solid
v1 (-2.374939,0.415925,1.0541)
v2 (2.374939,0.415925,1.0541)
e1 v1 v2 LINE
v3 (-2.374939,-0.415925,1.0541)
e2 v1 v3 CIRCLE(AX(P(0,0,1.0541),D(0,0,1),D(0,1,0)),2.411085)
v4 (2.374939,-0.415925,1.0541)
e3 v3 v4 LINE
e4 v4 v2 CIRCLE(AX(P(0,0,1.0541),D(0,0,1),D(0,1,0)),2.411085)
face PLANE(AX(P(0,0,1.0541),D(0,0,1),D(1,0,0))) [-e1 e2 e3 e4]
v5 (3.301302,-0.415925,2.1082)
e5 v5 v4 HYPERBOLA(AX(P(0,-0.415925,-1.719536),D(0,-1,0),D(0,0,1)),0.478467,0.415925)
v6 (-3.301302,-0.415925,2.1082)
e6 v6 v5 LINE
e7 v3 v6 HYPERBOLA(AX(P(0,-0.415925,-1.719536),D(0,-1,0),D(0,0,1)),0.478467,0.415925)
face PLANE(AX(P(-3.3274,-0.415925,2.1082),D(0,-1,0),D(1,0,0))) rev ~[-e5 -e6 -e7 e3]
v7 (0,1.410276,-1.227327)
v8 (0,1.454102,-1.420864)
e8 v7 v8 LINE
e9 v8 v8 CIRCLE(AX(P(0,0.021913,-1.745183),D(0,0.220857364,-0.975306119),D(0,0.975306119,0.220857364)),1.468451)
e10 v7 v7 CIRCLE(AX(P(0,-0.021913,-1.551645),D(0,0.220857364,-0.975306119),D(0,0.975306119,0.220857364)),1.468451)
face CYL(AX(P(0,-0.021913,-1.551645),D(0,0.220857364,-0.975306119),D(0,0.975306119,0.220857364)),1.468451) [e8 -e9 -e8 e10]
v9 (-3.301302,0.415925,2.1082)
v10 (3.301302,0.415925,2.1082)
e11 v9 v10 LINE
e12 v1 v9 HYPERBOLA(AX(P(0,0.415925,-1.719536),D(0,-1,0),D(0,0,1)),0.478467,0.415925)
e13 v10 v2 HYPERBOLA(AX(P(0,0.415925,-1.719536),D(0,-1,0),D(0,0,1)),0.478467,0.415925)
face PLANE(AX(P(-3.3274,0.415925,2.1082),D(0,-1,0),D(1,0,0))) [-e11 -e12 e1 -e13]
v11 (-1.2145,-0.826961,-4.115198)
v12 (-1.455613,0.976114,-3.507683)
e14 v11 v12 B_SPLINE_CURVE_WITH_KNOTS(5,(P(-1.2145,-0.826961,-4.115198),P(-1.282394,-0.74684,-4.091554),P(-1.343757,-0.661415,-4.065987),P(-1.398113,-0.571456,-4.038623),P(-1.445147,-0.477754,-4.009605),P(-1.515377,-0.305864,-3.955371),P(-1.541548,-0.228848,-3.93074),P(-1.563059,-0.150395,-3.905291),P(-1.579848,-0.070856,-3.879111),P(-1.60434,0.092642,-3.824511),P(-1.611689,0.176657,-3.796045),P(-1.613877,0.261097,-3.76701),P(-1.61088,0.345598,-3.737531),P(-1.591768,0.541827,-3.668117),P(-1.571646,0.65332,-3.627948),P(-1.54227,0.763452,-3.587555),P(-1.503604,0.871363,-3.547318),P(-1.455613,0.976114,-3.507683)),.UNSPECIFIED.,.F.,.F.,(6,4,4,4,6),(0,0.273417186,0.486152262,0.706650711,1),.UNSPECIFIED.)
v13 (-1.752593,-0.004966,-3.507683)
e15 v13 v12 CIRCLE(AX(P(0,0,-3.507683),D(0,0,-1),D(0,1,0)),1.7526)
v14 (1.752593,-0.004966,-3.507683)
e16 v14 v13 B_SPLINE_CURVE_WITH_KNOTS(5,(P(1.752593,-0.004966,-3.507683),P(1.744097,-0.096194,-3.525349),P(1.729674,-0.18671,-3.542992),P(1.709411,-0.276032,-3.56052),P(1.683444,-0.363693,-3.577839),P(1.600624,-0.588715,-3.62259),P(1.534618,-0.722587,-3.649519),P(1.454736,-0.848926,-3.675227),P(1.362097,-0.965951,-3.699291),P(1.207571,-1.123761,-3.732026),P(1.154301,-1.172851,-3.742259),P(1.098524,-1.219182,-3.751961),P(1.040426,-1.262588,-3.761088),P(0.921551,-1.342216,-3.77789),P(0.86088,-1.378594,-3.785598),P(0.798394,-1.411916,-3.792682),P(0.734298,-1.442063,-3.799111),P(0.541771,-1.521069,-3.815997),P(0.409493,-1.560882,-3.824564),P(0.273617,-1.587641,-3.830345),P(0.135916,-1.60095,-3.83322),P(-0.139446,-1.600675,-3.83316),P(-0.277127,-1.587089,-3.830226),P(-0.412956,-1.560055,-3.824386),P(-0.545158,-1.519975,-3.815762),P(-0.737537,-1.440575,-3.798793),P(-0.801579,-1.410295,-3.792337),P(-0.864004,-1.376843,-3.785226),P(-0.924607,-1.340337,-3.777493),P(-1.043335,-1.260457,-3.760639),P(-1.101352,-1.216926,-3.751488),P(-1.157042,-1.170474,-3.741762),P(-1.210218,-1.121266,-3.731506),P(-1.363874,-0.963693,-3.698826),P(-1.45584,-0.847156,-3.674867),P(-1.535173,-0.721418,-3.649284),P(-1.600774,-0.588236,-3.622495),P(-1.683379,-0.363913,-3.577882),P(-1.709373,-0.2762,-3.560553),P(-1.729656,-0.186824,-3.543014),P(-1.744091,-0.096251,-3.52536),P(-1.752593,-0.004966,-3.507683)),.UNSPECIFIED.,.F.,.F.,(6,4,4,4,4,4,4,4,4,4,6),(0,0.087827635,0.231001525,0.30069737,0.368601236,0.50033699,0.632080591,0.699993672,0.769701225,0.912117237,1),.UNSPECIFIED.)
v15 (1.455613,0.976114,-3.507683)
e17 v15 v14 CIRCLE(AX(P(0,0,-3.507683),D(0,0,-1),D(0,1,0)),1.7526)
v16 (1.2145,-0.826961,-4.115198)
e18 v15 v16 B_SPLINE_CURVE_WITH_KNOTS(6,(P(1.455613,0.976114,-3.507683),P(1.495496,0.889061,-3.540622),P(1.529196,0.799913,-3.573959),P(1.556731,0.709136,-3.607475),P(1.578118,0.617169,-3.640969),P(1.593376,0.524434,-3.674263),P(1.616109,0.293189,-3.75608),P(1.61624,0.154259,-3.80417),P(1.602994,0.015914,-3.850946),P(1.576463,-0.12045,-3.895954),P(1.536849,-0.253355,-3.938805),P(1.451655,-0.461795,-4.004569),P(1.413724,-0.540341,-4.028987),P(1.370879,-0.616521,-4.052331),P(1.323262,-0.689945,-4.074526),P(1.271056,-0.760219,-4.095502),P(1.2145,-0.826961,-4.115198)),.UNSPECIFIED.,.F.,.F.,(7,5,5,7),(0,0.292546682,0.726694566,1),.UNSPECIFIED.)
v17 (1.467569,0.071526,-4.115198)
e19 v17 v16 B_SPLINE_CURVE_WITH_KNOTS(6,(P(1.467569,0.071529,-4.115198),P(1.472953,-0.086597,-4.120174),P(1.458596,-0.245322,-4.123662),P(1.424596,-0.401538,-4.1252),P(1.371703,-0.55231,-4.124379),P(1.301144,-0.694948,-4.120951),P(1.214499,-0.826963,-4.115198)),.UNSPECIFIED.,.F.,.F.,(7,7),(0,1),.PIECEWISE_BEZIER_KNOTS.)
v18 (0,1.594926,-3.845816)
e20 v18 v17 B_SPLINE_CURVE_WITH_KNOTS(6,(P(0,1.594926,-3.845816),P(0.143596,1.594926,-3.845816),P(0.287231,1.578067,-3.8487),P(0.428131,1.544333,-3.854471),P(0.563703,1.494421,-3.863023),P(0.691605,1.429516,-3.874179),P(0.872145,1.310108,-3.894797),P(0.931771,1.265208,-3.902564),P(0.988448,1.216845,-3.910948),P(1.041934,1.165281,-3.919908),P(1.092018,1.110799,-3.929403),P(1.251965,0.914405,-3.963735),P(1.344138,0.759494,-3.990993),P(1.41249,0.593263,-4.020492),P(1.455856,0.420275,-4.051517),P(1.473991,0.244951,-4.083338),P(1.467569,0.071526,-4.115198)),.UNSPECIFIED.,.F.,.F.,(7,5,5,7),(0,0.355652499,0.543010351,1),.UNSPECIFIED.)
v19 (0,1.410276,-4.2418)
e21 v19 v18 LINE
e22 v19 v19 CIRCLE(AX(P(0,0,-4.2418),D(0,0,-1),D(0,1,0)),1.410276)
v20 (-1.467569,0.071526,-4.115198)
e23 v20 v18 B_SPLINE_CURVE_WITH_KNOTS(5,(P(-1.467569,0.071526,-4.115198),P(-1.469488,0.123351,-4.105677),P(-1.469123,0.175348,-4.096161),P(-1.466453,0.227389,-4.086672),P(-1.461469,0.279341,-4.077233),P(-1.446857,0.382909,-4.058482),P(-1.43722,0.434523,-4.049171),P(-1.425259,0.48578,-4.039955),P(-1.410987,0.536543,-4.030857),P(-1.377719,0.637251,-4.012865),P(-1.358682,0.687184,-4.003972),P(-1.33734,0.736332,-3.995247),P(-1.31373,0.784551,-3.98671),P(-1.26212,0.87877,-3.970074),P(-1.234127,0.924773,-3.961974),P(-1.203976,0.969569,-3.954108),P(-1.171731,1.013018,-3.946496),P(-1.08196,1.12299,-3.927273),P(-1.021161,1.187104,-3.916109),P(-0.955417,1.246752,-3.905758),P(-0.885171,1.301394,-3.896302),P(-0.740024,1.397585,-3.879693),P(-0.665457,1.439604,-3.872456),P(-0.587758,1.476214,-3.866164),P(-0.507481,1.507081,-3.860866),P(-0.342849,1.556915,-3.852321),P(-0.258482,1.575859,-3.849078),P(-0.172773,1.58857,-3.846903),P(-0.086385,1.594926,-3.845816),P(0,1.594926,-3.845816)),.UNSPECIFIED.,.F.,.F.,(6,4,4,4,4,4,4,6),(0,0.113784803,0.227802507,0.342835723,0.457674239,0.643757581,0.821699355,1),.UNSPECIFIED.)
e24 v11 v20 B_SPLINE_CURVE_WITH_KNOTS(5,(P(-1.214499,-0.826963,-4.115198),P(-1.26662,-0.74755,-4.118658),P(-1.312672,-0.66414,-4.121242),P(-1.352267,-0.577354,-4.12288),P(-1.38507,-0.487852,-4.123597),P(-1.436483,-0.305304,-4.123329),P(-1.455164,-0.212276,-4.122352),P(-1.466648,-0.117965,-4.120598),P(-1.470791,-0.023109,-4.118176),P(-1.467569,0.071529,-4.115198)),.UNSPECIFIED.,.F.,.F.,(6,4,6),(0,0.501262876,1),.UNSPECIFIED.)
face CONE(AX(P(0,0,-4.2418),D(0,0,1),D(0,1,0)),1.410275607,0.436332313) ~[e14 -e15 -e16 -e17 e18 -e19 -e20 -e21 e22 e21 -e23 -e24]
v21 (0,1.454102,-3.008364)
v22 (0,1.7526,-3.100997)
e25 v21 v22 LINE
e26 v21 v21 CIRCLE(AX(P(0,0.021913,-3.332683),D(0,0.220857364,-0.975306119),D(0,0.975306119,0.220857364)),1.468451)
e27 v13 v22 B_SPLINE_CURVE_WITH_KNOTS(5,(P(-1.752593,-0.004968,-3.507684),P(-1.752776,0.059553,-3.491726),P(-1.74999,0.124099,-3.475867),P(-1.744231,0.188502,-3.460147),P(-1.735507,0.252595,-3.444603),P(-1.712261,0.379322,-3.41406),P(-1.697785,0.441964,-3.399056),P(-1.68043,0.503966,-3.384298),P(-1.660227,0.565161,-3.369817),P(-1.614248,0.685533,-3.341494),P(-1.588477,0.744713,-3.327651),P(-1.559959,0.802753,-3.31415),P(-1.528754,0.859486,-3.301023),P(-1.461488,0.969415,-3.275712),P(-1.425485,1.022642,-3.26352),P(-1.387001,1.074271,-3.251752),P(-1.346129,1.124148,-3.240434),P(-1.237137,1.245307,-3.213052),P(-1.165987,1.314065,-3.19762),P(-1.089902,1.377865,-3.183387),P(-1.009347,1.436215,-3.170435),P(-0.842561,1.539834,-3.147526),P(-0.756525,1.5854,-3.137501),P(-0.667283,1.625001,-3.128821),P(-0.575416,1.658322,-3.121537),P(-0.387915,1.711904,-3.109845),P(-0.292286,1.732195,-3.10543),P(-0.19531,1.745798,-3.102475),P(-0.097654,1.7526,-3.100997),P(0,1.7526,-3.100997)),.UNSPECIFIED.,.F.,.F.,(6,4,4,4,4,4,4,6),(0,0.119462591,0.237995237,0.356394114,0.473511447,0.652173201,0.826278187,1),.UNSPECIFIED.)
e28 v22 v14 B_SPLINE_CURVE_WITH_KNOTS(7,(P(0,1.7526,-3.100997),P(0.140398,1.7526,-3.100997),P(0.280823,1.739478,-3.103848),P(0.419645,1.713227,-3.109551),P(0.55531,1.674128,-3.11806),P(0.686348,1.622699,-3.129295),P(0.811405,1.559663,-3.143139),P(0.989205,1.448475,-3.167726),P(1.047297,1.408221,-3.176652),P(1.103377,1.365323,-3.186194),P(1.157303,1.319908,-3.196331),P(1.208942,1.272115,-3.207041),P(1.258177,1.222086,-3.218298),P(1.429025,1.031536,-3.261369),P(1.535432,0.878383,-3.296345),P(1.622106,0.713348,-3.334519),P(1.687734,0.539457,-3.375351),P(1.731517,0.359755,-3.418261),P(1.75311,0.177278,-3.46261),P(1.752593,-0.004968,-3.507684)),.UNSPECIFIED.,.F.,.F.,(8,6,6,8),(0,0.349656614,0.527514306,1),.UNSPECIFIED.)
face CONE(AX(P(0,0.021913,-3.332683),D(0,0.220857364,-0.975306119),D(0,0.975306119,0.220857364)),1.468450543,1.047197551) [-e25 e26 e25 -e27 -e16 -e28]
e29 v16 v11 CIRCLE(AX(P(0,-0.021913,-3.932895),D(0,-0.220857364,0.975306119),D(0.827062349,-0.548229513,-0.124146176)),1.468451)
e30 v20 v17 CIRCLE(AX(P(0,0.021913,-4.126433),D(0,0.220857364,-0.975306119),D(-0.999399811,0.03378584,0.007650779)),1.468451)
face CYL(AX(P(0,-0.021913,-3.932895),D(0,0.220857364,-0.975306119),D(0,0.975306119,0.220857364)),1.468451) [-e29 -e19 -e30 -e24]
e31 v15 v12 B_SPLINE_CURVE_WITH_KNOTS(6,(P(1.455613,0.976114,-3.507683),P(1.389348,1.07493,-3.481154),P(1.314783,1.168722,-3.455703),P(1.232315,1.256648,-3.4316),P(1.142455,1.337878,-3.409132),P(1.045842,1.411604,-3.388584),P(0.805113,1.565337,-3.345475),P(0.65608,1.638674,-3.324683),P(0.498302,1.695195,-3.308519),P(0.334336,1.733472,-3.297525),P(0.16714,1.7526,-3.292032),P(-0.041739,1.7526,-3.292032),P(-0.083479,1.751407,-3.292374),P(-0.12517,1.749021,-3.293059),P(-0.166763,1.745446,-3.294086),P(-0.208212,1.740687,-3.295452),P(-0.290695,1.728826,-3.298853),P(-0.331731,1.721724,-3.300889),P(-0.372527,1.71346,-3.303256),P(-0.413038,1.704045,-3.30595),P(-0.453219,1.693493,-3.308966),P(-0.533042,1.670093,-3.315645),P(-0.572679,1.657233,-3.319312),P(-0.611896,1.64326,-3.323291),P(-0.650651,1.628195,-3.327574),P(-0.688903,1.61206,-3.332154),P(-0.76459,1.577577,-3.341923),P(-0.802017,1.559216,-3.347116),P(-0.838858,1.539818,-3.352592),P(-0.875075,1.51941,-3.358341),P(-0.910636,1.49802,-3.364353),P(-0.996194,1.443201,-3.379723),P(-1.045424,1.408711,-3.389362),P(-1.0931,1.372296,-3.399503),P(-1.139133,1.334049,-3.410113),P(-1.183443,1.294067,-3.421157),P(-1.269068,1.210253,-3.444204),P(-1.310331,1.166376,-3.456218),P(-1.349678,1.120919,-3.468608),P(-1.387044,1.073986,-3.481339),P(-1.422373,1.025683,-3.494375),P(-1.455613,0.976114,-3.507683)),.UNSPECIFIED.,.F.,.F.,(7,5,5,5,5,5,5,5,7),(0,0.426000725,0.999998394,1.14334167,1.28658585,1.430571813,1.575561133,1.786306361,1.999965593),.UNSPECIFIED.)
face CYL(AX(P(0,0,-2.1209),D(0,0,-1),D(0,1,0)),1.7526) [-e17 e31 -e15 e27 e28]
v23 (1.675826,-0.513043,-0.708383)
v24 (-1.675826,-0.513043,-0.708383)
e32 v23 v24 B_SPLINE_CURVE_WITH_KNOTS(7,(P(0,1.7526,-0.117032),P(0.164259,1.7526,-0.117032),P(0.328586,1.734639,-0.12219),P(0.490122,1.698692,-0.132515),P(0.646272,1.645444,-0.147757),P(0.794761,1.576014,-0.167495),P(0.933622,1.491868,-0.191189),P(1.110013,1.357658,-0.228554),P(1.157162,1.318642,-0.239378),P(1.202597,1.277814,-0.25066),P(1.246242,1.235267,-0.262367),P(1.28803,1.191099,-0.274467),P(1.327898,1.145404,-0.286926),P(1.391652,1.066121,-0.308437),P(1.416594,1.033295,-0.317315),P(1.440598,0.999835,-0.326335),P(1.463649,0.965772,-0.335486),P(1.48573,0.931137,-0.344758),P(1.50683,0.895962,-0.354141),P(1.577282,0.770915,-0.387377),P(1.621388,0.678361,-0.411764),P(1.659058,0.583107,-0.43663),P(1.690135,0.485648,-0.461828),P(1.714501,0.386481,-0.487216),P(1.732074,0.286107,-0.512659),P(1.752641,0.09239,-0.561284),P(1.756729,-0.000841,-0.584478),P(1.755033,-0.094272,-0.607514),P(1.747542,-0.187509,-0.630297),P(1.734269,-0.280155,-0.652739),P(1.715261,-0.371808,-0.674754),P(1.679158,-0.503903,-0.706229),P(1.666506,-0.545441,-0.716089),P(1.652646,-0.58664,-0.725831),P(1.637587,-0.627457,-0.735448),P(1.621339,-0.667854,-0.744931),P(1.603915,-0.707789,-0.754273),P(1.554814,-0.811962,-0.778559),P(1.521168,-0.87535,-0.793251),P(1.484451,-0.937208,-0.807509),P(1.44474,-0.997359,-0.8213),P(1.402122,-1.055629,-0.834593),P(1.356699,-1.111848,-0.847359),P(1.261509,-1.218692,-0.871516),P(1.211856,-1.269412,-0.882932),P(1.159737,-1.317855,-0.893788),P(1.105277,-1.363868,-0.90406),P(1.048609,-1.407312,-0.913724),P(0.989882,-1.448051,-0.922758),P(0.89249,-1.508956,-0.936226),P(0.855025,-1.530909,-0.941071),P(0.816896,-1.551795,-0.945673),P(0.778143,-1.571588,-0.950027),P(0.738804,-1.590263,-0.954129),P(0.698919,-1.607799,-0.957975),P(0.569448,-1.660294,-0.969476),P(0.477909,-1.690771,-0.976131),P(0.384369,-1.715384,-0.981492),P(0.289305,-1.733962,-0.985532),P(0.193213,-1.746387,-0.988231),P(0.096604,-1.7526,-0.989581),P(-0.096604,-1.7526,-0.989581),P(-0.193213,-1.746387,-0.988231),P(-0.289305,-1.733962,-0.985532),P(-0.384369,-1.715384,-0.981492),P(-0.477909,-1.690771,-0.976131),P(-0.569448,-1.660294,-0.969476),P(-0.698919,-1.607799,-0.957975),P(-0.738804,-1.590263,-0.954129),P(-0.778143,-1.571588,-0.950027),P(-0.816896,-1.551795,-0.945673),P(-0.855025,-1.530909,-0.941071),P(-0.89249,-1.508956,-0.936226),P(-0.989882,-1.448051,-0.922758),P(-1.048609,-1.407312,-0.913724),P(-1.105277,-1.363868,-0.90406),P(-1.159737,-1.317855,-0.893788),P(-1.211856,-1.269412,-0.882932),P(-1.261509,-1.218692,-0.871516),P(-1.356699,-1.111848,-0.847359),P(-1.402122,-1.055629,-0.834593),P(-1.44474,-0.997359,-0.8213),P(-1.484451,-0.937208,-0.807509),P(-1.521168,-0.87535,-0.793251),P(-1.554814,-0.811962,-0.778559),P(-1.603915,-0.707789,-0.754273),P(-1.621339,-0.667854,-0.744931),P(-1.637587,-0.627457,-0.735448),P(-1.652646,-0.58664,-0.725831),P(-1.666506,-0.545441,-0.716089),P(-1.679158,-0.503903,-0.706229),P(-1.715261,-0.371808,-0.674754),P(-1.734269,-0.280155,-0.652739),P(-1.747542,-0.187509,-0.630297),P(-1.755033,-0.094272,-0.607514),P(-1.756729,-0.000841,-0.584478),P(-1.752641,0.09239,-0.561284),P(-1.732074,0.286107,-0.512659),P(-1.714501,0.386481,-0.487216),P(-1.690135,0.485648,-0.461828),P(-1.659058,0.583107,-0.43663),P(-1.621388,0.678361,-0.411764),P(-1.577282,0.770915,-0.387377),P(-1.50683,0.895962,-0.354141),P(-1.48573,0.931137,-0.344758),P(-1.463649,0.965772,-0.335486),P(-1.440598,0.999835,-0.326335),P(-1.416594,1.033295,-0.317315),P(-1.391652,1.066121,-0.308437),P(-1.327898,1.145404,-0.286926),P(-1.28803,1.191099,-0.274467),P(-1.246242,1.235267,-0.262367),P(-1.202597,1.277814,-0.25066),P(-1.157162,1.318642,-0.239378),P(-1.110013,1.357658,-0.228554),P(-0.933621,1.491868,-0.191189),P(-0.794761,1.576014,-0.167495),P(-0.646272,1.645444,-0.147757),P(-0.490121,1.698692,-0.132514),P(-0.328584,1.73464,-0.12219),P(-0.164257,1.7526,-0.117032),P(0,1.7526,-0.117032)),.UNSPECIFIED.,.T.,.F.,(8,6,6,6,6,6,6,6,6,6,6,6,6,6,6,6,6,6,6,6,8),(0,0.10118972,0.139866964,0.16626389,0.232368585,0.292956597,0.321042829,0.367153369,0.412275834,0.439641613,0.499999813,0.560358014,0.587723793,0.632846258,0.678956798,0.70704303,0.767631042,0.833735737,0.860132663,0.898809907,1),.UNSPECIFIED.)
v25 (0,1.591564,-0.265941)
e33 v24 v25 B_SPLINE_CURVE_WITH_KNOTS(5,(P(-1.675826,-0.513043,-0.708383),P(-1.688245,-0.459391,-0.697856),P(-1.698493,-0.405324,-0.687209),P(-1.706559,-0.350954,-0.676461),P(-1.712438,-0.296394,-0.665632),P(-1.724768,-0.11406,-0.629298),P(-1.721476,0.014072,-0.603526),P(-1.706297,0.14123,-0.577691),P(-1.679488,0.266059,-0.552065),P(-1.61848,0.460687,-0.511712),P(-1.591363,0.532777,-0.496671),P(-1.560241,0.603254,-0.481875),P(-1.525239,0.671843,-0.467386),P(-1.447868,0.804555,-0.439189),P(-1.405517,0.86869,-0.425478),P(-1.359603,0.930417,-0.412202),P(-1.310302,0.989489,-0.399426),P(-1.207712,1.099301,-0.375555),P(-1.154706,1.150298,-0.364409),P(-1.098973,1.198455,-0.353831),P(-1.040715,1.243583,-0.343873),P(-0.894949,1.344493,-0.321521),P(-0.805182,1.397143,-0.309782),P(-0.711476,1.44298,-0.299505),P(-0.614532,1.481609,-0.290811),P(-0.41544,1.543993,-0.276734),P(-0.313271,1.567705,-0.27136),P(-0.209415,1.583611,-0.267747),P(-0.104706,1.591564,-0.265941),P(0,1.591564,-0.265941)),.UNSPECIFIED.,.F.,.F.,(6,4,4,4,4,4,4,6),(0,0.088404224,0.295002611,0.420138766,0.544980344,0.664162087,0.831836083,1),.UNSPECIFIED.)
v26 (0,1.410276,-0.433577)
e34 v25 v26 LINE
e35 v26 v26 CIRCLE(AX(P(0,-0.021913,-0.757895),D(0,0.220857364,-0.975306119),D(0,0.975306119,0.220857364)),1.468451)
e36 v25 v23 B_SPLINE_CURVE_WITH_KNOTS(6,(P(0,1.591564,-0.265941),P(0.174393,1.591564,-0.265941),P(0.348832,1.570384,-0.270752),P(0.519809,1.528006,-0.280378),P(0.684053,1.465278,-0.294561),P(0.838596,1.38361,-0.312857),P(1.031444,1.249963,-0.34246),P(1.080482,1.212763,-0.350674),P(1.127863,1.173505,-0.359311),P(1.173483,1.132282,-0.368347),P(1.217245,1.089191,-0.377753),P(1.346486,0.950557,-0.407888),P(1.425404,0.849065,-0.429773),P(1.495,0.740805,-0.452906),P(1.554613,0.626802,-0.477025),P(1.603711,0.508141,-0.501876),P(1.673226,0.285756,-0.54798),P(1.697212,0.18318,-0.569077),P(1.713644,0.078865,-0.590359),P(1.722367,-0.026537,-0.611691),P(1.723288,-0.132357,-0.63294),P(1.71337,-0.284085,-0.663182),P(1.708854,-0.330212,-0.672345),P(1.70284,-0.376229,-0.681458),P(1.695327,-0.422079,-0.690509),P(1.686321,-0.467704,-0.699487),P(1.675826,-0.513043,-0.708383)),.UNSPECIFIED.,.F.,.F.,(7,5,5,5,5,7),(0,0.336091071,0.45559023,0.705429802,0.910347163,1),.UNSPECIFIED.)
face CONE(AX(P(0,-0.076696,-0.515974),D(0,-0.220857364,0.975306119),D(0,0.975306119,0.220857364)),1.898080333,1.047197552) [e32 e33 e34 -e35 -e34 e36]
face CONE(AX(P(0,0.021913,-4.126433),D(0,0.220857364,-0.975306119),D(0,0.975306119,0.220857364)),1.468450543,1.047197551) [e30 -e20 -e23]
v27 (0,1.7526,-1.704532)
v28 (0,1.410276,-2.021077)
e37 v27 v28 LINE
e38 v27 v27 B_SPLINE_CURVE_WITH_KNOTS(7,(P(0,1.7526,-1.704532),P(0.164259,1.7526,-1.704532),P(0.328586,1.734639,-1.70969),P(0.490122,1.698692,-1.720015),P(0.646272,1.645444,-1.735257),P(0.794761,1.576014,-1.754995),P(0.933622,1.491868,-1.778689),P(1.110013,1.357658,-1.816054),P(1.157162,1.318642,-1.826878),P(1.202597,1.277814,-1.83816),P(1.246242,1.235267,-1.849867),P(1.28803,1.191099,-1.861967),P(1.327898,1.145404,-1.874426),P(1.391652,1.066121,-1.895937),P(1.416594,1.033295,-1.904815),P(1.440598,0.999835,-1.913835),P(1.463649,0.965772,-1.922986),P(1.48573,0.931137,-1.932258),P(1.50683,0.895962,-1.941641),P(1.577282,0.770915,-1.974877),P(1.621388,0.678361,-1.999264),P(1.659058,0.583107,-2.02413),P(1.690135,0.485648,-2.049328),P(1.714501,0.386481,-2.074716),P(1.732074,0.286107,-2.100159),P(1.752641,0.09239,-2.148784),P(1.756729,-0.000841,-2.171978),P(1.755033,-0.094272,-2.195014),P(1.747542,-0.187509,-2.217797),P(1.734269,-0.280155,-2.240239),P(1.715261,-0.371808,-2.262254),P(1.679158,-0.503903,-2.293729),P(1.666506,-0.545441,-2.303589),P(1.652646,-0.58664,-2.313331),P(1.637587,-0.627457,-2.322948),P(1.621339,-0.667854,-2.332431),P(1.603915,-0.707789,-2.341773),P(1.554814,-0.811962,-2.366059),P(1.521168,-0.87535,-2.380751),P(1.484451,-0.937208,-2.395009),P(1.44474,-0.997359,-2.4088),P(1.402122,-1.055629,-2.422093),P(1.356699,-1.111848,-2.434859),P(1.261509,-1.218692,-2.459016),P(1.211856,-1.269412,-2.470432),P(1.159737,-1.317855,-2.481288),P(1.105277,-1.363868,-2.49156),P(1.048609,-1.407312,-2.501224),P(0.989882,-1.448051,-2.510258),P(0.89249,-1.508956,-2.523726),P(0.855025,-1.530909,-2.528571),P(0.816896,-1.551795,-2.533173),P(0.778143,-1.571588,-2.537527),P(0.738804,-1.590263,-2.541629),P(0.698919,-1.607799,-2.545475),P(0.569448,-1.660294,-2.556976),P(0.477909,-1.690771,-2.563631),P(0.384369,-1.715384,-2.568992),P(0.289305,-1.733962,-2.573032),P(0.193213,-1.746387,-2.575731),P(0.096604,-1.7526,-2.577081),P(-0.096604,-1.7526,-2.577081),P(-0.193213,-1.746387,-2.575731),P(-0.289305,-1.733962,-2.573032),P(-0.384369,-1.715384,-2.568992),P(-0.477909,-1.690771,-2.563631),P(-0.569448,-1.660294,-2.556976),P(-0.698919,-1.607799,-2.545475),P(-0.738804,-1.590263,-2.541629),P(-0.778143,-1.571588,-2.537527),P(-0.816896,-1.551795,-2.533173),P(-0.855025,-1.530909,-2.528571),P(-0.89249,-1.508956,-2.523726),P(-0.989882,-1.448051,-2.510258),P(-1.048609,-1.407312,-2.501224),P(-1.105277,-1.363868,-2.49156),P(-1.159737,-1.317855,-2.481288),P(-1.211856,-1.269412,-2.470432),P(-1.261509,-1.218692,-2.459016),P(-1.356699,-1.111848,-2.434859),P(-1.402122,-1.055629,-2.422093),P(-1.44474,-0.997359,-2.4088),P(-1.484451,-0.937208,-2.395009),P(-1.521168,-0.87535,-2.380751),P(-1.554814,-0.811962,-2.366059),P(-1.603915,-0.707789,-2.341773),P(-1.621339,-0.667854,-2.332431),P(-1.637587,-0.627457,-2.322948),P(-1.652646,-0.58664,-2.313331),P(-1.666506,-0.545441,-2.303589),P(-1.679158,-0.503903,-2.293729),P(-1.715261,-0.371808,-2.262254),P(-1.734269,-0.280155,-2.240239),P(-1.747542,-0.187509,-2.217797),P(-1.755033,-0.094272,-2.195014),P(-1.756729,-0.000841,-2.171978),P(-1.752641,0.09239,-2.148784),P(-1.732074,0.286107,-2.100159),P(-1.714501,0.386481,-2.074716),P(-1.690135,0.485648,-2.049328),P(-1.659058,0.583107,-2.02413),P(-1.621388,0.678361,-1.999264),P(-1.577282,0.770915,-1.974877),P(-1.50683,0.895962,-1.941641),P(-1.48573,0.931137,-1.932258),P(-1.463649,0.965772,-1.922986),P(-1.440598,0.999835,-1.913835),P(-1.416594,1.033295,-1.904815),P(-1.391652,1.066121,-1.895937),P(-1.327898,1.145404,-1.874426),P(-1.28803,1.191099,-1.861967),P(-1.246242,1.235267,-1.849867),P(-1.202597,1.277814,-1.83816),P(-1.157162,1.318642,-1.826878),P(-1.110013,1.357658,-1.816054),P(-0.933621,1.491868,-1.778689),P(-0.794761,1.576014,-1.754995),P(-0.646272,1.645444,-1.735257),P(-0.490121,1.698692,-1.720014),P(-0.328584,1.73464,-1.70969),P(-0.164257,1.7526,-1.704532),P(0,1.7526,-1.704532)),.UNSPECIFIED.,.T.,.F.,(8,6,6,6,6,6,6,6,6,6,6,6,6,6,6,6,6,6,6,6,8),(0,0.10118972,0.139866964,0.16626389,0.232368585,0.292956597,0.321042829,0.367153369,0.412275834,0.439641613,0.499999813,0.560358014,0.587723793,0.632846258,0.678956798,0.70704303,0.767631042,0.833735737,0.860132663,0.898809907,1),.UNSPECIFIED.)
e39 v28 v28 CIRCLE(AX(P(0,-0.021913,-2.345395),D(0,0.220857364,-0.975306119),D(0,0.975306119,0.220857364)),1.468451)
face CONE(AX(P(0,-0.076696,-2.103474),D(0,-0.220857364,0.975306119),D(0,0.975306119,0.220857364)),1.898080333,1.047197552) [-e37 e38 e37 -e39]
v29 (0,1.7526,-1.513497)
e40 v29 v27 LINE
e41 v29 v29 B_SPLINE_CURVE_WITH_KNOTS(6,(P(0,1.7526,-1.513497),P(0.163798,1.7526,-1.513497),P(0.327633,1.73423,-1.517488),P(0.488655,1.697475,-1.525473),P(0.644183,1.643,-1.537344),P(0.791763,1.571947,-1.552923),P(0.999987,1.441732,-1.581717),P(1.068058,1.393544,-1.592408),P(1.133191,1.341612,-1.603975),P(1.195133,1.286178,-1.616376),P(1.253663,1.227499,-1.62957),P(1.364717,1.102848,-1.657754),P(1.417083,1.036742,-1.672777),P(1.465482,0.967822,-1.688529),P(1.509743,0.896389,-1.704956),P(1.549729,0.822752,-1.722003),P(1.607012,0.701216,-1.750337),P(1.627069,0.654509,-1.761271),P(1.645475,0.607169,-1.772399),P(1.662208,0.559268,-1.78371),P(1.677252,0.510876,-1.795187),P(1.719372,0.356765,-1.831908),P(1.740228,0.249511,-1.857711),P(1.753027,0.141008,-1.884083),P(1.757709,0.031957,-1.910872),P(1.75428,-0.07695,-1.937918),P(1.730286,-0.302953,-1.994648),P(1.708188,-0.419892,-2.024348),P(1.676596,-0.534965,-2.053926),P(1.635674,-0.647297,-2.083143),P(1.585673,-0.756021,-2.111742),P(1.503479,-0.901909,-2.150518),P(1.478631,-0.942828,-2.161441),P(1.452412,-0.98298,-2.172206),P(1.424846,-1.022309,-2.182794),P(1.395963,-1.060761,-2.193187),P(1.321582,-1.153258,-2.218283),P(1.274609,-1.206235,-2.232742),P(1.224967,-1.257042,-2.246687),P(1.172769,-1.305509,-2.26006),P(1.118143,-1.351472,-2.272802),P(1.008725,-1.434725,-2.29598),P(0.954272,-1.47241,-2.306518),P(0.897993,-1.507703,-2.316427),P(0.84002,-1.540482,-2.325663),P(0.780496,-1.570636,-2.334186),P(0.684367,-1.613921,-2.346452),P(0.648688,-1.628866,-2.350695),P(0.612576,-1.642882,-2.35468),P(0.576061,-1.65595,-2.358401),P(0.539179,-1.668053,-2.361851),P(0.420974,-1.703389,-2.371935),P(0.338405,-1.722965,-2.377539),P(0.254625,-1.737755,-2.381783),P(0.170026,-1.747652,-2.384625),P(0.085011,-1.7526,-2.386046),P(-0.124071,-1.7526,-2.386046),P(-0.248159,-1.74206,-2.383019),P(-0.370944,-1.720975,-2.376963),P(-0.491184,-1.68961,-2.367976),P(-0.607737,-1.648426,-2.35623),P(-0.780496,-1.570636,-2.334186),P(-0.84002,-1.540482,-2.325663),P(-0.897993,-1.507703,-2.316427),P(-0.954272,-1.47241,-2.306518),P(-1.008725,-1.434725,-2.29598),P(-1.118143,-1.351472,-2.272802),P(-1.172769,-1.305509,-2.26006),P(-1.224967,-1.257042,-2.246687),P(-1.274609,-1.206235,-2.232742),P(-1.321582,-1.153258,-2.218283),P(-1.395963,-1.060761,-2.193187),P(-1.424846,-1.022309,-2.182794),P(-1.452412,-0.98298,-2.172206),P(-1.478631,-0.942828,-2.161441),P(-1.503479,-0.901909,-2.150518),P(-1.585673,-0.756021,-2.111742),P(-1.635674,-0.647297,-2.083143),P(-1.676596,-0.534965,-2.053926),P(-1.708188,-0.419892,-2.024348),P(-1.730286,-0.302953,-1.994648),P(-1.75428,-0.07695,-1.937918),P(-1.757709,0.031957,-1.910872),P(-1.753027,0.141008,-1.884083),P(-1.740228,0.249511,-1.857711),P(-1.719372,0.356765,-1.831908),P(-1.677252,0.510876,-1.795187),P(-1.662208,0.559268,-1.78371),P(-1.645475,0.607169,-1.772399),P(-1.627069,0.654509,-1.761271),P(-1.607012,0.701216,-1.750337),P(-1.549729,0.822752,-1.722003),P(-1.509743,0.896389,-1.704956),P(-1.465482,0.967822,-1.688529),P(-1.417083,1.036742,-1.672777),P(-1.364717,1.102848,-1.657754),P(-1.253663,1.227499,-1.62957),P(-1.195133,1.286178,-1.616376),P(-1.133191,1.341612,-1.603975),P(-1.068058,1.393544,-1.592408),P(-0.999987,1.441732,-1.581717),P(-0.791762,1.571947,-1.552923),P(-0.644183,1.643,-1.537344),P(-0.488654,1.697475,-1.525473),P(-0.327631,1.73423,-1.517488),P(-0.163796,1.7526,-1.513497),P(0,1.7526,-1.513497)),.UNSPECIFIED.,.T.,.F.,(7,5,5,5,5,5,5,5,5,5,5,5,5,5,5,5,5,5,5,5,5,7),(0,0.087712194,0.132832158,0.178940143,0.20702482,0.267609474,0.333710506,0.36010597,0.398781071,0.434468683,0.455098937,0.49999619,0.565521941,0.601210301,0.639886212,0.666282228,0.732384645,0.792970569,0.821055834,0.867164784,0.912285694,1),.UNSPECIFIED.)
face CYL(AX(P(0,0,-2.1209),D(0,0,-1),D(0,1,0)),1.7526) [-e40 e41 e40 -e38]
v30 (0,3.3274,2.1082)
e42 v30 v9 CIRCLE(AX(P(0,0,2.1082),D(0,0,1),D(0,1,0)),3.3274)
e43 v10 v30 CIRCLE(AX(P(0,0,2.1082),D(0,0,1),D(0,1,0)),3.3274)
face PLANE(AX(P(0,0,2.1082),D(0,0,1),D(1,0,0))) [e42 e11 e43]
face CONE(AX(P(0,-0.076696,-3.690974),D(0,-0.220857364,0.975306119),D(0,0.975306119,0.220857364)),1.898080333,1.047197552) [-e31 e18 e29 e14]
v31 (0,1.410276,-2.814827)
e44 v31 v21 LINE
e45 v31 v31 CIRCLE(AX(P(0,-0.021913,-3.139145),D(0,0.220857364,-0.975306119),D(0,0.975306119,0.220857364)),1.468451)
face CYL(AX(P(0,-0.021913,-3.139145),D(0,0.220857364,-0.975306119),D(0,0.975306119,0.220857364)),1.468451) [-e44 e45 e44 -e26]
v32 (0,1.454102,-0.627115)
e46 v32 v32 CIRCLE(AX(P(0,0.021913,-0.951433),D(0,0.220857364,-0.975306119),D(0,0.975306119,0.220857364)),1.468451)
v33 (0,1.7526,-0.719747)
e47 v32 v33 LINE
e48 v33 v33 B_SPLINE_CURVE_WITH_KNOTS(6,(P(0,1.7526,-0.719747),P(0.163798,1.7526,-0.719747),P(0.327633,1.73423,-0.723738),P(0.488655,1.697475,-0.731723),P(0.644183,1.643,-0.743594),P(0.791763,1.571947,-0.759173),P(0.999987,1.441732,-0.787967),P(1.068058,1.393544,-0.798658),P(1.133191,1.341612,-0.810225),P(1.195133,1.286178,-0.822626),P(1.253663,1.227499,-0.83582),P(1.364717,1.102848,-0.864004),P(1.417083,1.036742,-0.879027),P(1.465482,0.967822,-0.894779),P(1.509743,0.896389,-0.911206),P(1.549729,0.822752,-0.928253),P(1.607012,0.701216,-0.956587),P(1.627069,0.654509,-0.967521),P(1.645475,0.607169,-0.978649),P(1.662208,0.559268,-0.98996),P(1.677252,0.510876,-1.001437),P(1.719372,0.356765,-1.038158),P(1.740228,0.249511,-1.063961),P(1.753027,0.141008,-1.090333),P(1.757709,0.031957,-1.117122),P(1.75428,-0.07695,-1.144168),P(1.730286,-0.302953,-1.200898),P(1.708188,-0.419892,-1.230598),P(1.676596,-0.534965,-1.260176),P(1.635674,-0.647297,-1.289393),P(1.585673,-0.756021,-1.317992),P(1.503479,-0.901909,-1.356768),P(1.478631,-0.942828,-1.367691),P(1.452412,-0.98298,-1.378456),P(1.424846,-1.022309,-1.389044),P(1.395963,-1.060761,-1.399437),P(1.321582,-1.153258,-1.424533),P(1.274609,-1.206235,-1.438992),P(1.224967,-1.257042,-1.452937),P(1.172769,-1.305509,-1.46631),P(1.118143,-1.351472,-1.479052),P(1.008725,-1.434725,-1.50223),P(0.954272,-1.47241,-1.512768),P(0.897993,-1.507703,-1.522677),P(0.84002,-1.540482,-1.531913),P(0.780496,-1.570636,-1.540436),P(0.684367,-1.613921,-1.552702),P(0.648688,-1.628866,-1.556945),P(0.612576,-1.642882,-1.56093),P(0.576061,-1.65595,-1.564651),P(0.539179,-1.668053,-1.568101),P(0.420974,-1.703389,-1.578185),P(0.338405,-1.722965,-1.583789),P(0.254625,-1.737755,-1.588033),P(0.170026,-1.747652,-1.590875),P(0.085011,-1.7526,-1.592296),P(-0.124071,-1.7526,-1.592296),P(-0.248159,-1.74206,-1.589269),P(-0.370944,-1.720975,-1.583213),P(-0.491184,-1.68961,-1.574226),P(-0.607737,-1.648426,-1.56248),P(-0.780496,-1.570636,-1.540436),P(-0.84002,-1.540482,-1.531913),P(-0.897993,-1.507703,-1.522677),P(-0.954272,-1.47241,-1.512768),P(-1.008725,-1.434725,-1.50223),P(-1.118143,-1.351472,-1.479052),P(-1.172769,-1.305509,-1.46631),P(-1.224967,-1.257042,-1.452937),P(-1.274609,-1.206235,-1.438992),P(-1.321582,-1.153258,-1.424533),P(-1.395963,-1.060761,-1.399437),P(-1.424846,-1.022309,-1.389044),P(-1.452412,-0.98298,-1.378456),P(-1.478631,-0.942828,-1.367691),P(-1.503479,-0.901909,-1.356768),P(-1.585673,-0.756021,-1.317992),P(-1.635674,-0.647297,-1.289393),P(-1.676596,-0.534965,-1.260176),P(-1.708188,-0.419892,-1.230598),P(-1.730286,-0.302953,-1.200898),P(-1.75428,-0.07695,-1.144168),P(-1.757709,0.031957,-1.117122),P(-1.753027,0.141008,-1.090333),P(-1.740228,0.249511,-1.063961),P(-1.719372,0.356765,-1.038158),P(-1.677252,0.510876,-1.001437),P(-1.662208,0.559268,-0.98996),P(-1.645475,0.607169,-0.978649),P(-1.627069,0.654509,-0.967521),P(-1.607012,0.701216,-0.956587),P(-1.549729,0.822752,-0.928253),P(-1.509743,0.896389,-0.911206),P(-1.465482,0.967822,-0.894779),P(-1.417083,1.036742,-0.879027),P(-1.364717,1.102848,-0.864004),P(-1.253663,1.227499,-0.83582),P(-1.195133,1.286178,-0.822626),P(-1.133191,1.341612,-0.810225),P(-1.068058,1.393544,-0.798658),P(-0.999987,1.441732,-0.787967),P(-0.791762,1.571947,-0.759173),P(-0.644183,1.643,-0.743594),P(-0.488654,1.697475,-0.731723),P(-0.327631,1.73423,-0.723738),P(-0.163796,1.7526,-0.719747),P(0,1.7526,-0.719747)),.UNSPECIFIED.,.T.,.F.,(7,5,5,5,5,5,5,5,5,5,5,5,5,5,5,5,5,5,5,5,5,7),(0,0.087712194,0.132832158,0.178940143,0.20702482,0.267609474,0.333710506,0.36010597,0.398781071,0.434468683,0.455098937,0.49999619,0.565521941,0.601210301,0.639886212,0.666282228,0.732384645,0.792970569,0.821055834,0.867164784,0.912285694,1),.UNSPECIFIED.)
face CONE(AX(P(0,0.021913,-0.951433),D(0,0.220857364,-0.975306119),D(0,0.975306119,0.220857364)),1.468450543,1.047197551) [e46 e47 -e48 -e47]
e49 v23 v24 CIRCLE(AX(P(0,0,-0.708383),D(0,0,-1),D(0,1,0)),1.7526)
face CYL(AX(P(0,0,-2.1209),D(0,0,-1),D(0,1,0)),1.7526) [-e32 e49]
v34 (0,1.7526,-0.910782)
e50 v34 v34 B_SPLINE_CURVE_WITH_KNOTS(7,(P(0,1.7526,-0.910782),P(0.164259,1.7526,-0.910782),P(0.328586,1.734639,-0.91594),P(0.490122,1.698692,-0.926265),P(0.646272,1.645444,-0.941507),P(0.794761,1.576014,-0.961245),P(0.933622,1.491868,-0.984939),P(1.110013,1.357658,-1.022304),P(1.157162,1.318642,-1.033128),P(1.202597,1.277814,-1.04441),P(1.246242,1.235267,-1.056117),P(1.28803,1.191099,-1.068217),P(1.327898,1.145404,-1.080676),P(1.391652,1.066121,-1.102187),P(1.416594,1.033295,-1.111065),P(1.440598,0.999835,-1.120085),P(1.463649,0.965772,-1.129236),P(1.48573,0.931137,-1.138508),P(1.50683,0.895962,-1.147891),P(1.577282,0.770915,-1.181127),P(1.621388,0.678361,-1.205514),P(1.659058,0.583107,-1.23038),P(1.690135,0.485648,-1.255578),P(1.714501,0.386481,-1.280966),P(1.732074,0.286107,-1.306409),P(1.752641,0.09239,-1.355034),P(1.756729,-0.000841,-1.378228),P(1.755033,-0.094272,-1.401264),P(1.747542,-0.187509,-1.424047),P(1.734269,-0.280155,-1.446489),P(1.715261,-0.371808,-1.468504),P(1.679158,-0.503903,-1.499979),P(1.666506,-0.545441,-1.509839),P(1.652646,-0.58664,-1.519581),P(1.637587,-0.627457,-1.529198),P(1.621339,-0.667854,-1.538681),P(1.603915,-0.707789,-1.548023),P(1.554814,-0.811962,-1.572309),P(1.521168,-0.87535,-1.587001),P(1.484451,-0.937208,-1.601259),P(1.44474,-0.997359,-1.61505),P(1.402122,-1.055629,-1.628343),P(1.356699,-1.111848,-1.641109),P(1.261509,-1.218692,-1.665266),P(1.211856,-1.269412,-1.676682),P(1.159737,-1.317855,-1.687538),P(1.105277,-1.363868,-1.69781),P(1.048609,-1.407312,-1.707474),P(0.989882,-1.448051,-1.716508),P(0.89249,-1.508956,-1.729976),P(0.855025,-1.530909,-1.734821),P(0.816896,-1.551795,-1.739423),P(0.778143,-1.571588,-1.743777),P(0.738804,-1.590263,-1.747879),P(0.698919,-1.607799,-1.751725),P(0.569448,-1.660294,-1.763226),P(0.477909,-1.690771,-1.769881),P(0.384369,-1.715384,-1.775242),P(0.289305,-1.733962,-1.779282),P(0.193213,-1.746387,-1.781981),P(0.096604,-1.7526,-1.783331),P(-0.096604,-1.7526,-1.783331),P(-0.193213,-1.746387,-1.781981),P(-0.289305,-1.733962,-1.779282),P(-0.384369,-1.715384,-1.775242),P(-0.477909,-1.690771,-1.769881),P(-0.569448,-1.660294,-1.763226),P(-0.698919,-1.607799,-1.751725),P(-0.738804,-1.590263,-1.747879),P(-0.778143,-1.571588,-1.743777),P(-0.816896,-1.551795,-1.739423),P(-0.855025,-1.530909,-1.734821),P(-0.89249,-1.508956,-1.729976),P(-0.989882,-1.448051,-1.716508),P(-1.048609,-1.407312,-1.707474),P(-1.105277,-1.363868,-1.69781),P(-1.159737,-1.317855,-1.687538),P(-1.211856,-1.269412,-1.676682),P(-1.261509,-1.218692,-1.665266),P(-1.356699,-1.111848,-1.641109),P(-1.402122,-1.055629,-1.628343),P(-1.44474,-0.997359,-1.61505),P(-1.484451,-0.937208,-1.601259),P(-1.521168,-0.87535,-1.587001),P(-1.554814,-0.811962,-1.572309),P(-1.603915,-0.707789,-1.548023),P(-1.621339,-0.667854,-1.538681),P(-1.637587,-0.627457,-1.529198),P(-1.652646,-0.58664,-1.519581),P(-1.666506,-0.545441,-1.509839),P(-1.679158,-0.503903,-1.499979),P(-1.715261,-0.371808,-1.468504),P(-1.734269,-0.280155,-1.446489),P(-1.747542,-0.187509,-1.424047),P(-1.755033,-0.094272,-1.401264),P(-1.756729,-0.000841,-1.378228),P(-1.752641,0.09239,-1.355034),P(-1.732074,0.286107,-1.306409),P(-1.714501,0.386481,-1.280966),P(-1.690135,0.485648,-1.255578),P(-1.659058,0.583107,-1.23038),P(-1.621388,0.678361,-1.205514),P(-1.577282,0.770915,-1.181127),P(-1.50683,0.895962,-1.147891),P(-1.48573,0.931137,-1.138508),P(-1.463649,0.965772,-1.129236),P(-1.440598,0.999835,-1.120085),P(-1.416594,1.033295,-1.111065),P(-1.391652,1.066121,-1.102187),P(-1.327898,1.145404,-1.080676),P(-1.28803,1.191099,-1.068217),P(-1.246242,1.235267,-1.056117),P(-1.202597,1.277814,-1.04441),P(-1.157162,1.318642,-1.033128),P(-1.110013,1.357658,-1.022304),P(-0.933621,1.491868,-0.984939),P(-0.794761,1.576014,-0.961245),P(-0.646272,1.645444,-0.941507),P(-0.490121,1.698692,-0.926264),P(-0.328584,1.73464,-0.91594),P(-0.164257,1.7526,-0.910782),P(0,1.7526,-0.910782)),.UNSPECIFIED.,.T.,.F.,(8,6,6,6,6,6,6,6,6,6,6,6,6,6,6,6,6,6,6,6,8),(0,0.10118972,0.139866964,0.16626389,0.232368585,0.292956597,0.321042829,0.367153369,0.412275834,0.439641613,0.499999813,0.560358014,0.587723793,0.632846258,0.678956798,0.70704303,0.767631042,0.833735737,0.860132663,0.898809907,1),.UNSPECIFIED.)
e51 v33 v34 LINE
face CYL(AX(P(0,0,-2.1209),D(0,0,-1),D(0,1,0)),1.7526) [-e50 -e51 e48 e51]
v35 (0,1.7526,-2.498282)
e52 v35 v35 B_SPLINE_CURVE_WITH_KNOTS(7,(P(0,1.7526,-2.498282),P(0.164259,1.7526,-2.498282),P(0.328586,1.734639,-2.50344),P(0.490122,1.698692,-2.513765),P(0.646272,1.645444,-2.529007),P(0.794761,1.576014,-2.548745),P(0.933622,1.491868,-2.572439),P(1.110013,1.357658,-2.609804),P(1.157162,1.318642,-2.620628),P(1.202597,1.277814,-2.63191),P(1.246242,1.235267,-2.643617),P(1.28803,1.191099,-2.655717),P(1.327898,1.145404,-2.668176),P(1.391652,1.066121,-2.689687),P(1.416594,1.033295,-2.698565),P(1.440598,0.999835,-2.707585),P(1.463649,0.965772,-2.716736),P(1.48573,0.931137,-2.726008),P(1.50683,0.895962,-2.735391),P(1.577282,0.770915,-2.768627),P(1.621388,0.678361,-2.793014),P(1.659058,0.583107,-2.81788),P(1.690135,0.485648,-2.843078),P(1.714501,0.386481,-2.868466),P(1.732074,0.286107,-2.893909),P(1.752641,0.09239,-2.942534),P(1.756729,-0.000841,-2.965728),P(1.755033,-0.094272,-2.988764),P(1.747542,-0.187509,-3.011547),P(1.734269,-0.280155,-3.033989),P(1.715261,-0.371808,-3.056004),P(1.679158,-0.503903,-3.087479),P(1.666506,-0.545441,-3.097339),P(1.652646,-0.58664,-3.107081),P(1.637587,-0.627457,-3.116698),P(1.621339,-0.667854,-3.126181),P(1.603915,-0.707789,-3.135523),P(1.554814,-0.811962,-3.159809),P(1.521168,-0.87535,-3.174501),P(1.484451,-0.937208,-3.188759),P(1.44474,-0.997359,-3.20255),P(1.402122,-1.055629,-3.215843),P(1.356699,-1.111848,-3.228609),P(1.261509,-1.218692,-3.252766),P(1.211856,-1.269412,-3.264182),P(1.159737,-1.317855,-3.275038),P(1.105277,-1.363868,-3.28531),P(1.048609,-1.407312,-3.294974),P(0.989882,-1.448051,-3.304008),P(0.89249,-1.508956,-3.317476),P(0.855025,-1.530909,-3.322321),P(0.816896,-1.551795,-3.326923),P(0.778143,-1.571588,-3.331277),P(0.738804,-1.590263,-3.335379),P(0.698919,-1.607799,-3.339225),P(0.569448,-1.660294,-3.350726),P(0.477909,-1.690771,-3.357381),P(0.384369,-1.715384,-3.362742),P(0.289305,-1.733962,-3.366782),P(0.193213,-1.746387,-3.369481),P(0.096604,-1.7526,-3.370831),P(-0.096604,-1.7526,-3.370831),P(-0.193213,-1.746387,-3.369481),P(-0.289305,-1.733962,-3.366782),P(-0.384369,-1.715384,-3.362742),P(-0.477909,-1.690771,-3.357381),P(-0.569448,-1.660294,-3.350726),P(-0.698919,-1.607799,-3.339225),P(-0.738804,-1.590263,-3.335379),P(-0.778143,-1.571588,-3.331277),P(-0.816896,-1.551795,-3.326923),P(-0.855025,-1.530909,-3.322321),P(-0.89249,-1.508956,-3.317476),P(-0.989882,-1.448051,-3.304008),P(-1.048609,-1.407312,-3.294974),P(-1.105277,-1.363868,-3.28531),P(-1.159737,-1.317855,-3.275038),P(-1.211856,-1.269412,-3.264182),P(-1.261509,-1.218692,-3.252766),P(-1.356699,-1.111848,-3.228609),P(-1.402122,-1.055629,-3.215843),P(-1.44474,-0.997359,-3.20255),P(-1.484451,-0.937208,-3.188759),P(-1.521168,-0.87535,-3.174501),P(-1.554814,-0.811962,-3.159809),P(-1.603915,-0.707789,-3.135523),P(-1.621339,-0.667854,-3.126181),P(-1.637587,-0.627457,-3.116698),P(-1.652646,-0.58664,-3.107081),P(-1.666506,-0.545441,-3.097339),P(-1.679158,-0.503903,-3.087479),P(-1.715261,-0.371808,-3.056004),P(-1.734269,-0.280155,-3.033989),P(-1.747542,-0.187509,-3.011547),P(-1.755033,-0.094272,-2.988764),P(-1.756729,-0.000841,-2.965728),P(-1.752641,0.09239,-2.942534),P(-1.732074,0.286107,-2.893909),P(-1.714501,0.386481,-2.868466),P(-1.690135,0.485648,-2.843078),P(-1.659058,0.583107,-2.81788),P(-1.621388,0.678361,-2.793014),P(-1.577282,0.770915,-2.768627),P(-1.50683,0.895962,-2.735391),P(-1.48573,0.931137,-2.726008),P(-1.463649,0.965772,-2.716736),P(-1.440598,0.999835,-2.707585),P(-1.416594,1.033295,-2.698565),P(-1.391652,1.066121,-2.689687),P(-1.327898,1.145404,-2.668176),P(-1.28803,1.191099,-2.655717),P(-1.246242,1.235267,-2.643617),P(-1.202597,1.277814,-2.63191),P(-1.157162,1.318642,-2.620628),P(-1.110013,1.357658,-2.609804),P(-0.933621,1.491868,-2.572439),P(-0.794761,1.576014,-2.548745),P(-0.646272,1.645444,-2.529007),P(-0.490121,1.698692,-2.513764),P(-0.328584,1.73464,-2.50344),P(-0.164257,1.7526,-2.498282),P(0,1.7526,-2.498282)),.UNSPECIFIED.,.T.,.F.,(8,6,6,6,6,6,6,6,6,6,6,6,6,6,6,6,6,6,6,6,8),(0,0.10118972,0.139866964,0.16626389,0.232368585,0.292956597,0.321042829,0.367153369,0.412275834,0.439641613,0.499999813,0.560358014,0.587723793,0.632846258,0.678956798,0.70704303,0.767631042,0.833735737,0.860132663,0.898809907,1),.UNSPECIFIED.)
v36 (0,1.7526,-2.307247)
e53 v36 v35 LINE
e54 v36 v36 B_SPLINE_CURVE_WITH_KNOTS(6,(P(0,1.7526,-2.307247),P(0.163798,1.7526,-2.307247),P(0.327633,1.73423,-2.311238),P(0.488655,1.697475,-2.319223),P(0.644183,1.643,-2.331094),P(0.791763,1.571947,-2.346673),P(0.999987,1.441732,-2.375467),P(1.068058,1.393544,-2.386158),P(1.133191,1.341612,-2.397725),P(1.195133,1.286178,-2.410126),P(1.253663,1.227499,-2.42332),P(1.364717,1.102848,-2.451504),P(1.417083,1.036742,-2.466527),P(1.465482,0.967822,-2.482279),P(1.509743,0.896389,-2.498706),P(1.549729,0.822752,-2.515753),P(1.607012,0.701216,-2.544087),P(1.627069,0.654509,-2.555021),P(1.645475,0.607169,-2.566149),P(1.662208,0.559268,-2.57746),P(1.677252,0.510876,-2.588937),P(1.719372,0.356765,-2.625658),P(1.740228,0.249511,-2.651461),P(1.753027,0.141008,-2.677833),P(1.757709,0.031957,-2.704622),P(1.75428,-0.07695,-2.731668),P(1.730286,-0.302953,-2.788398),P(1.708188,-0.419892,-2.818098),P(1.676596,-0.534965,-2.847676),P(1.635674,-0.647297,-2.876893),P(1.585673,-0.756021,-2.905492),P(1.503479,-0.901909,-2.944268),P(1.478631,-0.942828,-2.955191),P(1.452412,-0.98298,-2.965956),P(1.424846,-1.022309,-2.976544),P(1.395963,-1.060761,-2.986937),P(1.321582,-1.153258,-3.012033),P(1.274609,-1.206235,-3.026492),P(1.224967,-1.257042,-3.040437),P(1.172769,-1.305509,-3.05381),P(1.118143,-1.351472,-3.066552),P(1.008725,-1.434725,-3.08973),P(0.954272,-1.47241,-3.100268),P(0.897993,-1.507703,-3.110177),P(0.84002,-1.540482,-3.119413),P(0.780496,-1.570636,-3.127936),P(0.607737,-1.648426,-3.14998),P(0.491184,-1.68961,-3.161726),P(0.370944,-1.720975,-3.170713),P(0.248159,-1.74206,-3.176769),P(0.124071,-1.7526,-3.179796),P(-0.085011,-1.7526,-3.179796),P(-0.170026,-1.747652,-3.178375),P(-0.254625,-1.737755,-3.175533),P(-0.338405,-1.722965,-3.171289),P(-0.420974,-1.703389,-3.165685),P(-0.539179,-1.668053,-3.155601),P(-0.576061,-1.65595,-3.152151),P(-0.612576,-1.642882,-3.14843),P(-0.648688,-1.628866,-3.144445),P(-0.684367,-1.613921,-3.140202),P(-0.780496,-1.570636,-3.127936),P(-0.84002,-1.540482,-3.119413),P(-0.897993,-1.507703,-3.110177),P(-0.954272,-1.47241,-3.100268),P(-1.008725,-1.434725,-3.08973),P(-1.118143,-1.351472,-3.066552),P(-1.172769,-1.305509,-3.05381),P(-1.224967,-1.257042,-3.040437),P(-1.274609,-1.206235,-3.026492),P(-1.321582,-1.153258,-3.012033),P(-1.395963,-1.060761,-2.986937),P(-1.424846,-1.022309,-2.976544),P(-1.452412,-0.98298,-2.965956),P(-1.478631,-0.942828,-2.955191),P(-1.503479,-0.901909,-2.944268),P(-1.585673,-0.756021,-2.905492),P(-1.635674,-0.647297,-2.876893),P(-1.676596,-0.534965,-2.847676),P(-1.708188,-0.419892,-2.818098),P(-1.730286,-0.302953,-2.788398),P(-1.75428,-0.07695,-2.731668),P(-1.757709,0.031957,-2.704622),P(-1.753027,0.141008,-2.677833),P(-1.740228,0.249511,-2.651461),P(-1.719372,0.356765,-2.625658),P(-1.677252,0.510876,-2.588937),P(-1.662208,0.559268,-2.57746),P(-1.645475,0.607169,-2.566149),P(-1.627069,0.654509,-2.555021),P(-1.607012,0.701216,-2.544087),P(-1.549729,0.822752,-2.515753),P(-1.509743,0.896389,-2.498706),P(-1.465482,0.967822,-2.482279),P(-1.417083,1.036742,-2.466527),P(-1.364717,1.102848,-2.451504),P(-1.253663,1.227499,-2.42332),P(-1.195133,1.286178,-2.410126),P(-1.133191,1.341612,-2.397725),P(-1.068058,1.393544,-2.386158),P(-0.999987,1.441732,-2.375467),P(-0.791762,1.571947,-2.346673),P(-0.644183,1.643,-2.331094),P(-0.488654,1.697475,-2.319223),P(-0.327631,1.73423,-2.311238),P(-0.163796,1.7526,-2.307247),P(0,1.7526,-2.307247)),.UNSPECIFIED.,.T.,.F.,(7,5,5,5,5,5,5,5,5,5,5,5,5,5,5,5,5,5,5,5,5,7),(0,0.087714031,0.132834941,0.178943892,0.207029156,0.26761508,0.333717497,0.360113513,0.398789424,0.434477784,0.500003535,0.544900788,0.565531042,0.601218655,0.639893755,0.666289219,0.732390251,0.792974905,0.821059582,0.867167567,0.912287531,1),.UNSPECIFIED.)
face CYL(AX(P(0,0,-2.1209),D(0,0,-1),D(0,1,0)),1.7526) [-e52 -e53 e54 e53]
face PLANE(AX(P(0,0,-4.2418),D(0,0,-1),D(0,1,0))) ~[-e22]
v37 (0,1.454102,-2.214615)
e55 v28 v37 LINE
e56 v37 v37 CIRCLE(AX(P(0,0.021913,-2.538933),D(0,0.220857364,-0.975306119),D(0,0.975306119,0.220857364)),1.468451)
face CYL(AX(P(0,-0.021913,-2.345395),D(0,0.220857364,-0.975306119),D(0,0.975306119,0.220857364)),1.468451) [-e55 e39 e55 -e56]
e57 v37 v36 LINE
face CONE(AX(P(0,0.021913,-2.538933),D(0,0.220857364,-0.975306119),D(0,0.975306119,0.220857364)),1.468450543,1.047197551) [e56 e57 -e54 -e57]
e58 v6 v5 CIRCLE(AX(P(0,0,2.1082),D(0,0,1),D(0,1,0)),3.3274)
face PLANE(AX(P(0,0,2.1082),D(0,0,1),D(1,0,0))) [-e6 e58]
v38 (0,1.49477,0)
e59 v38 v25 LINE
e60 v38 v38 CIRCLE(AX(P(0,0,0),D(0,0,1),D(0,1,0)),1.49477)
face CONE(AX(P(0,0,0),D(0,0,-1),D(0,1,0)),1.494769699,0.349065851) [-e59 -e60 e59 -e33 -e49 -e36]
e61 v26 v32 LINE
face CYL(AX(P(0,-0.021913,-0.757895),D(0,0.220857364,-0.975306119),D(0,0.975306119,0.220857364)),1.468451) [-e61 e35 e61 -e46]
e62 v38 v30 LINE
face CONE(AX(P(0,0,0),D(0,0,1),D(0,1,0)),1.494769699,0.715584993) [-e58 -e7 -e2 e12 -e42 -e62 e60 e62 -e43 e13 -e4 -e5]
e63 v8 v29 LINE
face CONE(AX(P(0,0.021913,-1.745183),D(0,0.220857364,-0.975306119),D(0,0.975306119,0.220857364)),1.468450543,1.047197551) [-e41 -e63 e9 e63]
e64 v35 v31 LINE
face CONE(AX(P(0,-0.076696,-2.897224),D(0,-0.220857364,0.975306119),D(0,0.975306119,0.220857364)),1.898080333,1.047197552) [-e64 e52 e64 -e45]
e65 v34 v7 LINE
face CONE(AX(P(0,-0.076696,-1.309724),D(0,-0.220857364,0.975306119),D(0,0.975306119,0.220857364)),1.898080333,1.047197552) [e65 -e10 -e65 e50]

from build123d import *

# Parameters (mm, degrees)
SKETCH1_R          = 3.3274
EXTRUDE3_DEPTH     = 2.1082
SKETCH4_W          = 4.2418
SKETCH4_H          = 1.7526
LPATTERN2_COUNT    = 5
LPATTERN2_PITCH    = 0.79375
SKETCH15_W         = 6.6548
SKETCH15_H         = 0.83185
CUT_EXTRUDE5_DEPTH = 1.0541


with BuildPart() as part:
    # Sketch1 → Extrude3 (new body)
    with BuildSketch(Plane.XY):
        Circle(SKETCH1_R)
    extrude(amount=EXTRUDE3_DEPTH)

    # Sketch11 → Cut-Revolve3 (revolve, cut)
    with BuildSketch(Plane(origin=(0, 0, 0), x_dir=(0, 0, -1), z_dir=(1, 0, 0))):
        Polygon((0, 1.494769699), (-2.1082, 3.3274), (0, 3.3274), align=None)
    revolve(axis=Axis((0, 0, -0.441444004), (0, 0, 1)), mode=Mode.SUBTRACT)

    # Sketch4 → Revolve1 (revolve)
    with BuildSketch(Plane(origin=(0, 0, 0), x_dir=(0, 0, -1), z_dir=(1, 0, 0))):
        with Locations((2.1209, 0.8763)):
            Rectangle(SKETCH4_W, SKETCH4_H)
    revolve(axis=Axis((0, 0, -4.2418), (0, 0, -1)))

    # Sketch5 → Cut-Revolve1 (revolve, cut)
    with BuildSketch(Plane(origin=(0, 0, 0), x_dir=(0, 0, -1), z_dir=(1, 0, 0))):
        Polygon((0.096768654, 1.774513192), (0.433577192, 1.410275607), (0.6271145, 1.454101991), (0.774149232, 1.927905533), align=None)
    cut_revolve1 = revolve(axis=Axis((0, -0.193538035, 0), (0, 0.220857364, -0.975306119)), mode=Mode.SUBTRACT)

    # Sketch13 → Cut-Revolve4 (revolve, cut)
    with BuildSketch(Plane(origin=(0, 0, 0), x_dir=(0, 0, -1), z_dir=(1, 0, 0))):
        Polygon((4.2418, 1.410275607), (3.507682971, 1.7526), (4.2418, 1.7526), align=None)
    revolve(axis=Axis((0, 0, 0), (0, 0, -1)), mode=Mode.SUBTRACT)

    # Sketch16 → Cut-Revolve5 (revolve, cut)
    with BuildSketch(Plane(origin=(0, 0, 0), x_dir=(0, 0, -1), z_dir=(1, 0, 0))):
        Polygon((0, 1.494769699), (0.708382929, 1.7526), (0, 1.7526), align=None)
    revolve(axis=Axis((0, 0, 0), (0, 0, -1)), mode=Mode.SUBTRACT)

    # LPattern2: Cut-Revolve1 ×5
    with Locations(*[(0, 0, -i * LPATTERN2_PITCH) for i in range(1, LPATTERN2_COUNT)]):
        add(cut_revolve1, mode=Mode.SUBTRACT)

    # Sketch15 → Cut-Extrude5 (cut)
    with BuildSketch(Plane.XY.offset(2.1082)):
        Rectangle(SKETCH15_W, SKETCH15_H)
    extrude(amount=-CUT_EXTRUDE5_DEPTH, mode=Mode.SUBTRACT)


solid = part.part
